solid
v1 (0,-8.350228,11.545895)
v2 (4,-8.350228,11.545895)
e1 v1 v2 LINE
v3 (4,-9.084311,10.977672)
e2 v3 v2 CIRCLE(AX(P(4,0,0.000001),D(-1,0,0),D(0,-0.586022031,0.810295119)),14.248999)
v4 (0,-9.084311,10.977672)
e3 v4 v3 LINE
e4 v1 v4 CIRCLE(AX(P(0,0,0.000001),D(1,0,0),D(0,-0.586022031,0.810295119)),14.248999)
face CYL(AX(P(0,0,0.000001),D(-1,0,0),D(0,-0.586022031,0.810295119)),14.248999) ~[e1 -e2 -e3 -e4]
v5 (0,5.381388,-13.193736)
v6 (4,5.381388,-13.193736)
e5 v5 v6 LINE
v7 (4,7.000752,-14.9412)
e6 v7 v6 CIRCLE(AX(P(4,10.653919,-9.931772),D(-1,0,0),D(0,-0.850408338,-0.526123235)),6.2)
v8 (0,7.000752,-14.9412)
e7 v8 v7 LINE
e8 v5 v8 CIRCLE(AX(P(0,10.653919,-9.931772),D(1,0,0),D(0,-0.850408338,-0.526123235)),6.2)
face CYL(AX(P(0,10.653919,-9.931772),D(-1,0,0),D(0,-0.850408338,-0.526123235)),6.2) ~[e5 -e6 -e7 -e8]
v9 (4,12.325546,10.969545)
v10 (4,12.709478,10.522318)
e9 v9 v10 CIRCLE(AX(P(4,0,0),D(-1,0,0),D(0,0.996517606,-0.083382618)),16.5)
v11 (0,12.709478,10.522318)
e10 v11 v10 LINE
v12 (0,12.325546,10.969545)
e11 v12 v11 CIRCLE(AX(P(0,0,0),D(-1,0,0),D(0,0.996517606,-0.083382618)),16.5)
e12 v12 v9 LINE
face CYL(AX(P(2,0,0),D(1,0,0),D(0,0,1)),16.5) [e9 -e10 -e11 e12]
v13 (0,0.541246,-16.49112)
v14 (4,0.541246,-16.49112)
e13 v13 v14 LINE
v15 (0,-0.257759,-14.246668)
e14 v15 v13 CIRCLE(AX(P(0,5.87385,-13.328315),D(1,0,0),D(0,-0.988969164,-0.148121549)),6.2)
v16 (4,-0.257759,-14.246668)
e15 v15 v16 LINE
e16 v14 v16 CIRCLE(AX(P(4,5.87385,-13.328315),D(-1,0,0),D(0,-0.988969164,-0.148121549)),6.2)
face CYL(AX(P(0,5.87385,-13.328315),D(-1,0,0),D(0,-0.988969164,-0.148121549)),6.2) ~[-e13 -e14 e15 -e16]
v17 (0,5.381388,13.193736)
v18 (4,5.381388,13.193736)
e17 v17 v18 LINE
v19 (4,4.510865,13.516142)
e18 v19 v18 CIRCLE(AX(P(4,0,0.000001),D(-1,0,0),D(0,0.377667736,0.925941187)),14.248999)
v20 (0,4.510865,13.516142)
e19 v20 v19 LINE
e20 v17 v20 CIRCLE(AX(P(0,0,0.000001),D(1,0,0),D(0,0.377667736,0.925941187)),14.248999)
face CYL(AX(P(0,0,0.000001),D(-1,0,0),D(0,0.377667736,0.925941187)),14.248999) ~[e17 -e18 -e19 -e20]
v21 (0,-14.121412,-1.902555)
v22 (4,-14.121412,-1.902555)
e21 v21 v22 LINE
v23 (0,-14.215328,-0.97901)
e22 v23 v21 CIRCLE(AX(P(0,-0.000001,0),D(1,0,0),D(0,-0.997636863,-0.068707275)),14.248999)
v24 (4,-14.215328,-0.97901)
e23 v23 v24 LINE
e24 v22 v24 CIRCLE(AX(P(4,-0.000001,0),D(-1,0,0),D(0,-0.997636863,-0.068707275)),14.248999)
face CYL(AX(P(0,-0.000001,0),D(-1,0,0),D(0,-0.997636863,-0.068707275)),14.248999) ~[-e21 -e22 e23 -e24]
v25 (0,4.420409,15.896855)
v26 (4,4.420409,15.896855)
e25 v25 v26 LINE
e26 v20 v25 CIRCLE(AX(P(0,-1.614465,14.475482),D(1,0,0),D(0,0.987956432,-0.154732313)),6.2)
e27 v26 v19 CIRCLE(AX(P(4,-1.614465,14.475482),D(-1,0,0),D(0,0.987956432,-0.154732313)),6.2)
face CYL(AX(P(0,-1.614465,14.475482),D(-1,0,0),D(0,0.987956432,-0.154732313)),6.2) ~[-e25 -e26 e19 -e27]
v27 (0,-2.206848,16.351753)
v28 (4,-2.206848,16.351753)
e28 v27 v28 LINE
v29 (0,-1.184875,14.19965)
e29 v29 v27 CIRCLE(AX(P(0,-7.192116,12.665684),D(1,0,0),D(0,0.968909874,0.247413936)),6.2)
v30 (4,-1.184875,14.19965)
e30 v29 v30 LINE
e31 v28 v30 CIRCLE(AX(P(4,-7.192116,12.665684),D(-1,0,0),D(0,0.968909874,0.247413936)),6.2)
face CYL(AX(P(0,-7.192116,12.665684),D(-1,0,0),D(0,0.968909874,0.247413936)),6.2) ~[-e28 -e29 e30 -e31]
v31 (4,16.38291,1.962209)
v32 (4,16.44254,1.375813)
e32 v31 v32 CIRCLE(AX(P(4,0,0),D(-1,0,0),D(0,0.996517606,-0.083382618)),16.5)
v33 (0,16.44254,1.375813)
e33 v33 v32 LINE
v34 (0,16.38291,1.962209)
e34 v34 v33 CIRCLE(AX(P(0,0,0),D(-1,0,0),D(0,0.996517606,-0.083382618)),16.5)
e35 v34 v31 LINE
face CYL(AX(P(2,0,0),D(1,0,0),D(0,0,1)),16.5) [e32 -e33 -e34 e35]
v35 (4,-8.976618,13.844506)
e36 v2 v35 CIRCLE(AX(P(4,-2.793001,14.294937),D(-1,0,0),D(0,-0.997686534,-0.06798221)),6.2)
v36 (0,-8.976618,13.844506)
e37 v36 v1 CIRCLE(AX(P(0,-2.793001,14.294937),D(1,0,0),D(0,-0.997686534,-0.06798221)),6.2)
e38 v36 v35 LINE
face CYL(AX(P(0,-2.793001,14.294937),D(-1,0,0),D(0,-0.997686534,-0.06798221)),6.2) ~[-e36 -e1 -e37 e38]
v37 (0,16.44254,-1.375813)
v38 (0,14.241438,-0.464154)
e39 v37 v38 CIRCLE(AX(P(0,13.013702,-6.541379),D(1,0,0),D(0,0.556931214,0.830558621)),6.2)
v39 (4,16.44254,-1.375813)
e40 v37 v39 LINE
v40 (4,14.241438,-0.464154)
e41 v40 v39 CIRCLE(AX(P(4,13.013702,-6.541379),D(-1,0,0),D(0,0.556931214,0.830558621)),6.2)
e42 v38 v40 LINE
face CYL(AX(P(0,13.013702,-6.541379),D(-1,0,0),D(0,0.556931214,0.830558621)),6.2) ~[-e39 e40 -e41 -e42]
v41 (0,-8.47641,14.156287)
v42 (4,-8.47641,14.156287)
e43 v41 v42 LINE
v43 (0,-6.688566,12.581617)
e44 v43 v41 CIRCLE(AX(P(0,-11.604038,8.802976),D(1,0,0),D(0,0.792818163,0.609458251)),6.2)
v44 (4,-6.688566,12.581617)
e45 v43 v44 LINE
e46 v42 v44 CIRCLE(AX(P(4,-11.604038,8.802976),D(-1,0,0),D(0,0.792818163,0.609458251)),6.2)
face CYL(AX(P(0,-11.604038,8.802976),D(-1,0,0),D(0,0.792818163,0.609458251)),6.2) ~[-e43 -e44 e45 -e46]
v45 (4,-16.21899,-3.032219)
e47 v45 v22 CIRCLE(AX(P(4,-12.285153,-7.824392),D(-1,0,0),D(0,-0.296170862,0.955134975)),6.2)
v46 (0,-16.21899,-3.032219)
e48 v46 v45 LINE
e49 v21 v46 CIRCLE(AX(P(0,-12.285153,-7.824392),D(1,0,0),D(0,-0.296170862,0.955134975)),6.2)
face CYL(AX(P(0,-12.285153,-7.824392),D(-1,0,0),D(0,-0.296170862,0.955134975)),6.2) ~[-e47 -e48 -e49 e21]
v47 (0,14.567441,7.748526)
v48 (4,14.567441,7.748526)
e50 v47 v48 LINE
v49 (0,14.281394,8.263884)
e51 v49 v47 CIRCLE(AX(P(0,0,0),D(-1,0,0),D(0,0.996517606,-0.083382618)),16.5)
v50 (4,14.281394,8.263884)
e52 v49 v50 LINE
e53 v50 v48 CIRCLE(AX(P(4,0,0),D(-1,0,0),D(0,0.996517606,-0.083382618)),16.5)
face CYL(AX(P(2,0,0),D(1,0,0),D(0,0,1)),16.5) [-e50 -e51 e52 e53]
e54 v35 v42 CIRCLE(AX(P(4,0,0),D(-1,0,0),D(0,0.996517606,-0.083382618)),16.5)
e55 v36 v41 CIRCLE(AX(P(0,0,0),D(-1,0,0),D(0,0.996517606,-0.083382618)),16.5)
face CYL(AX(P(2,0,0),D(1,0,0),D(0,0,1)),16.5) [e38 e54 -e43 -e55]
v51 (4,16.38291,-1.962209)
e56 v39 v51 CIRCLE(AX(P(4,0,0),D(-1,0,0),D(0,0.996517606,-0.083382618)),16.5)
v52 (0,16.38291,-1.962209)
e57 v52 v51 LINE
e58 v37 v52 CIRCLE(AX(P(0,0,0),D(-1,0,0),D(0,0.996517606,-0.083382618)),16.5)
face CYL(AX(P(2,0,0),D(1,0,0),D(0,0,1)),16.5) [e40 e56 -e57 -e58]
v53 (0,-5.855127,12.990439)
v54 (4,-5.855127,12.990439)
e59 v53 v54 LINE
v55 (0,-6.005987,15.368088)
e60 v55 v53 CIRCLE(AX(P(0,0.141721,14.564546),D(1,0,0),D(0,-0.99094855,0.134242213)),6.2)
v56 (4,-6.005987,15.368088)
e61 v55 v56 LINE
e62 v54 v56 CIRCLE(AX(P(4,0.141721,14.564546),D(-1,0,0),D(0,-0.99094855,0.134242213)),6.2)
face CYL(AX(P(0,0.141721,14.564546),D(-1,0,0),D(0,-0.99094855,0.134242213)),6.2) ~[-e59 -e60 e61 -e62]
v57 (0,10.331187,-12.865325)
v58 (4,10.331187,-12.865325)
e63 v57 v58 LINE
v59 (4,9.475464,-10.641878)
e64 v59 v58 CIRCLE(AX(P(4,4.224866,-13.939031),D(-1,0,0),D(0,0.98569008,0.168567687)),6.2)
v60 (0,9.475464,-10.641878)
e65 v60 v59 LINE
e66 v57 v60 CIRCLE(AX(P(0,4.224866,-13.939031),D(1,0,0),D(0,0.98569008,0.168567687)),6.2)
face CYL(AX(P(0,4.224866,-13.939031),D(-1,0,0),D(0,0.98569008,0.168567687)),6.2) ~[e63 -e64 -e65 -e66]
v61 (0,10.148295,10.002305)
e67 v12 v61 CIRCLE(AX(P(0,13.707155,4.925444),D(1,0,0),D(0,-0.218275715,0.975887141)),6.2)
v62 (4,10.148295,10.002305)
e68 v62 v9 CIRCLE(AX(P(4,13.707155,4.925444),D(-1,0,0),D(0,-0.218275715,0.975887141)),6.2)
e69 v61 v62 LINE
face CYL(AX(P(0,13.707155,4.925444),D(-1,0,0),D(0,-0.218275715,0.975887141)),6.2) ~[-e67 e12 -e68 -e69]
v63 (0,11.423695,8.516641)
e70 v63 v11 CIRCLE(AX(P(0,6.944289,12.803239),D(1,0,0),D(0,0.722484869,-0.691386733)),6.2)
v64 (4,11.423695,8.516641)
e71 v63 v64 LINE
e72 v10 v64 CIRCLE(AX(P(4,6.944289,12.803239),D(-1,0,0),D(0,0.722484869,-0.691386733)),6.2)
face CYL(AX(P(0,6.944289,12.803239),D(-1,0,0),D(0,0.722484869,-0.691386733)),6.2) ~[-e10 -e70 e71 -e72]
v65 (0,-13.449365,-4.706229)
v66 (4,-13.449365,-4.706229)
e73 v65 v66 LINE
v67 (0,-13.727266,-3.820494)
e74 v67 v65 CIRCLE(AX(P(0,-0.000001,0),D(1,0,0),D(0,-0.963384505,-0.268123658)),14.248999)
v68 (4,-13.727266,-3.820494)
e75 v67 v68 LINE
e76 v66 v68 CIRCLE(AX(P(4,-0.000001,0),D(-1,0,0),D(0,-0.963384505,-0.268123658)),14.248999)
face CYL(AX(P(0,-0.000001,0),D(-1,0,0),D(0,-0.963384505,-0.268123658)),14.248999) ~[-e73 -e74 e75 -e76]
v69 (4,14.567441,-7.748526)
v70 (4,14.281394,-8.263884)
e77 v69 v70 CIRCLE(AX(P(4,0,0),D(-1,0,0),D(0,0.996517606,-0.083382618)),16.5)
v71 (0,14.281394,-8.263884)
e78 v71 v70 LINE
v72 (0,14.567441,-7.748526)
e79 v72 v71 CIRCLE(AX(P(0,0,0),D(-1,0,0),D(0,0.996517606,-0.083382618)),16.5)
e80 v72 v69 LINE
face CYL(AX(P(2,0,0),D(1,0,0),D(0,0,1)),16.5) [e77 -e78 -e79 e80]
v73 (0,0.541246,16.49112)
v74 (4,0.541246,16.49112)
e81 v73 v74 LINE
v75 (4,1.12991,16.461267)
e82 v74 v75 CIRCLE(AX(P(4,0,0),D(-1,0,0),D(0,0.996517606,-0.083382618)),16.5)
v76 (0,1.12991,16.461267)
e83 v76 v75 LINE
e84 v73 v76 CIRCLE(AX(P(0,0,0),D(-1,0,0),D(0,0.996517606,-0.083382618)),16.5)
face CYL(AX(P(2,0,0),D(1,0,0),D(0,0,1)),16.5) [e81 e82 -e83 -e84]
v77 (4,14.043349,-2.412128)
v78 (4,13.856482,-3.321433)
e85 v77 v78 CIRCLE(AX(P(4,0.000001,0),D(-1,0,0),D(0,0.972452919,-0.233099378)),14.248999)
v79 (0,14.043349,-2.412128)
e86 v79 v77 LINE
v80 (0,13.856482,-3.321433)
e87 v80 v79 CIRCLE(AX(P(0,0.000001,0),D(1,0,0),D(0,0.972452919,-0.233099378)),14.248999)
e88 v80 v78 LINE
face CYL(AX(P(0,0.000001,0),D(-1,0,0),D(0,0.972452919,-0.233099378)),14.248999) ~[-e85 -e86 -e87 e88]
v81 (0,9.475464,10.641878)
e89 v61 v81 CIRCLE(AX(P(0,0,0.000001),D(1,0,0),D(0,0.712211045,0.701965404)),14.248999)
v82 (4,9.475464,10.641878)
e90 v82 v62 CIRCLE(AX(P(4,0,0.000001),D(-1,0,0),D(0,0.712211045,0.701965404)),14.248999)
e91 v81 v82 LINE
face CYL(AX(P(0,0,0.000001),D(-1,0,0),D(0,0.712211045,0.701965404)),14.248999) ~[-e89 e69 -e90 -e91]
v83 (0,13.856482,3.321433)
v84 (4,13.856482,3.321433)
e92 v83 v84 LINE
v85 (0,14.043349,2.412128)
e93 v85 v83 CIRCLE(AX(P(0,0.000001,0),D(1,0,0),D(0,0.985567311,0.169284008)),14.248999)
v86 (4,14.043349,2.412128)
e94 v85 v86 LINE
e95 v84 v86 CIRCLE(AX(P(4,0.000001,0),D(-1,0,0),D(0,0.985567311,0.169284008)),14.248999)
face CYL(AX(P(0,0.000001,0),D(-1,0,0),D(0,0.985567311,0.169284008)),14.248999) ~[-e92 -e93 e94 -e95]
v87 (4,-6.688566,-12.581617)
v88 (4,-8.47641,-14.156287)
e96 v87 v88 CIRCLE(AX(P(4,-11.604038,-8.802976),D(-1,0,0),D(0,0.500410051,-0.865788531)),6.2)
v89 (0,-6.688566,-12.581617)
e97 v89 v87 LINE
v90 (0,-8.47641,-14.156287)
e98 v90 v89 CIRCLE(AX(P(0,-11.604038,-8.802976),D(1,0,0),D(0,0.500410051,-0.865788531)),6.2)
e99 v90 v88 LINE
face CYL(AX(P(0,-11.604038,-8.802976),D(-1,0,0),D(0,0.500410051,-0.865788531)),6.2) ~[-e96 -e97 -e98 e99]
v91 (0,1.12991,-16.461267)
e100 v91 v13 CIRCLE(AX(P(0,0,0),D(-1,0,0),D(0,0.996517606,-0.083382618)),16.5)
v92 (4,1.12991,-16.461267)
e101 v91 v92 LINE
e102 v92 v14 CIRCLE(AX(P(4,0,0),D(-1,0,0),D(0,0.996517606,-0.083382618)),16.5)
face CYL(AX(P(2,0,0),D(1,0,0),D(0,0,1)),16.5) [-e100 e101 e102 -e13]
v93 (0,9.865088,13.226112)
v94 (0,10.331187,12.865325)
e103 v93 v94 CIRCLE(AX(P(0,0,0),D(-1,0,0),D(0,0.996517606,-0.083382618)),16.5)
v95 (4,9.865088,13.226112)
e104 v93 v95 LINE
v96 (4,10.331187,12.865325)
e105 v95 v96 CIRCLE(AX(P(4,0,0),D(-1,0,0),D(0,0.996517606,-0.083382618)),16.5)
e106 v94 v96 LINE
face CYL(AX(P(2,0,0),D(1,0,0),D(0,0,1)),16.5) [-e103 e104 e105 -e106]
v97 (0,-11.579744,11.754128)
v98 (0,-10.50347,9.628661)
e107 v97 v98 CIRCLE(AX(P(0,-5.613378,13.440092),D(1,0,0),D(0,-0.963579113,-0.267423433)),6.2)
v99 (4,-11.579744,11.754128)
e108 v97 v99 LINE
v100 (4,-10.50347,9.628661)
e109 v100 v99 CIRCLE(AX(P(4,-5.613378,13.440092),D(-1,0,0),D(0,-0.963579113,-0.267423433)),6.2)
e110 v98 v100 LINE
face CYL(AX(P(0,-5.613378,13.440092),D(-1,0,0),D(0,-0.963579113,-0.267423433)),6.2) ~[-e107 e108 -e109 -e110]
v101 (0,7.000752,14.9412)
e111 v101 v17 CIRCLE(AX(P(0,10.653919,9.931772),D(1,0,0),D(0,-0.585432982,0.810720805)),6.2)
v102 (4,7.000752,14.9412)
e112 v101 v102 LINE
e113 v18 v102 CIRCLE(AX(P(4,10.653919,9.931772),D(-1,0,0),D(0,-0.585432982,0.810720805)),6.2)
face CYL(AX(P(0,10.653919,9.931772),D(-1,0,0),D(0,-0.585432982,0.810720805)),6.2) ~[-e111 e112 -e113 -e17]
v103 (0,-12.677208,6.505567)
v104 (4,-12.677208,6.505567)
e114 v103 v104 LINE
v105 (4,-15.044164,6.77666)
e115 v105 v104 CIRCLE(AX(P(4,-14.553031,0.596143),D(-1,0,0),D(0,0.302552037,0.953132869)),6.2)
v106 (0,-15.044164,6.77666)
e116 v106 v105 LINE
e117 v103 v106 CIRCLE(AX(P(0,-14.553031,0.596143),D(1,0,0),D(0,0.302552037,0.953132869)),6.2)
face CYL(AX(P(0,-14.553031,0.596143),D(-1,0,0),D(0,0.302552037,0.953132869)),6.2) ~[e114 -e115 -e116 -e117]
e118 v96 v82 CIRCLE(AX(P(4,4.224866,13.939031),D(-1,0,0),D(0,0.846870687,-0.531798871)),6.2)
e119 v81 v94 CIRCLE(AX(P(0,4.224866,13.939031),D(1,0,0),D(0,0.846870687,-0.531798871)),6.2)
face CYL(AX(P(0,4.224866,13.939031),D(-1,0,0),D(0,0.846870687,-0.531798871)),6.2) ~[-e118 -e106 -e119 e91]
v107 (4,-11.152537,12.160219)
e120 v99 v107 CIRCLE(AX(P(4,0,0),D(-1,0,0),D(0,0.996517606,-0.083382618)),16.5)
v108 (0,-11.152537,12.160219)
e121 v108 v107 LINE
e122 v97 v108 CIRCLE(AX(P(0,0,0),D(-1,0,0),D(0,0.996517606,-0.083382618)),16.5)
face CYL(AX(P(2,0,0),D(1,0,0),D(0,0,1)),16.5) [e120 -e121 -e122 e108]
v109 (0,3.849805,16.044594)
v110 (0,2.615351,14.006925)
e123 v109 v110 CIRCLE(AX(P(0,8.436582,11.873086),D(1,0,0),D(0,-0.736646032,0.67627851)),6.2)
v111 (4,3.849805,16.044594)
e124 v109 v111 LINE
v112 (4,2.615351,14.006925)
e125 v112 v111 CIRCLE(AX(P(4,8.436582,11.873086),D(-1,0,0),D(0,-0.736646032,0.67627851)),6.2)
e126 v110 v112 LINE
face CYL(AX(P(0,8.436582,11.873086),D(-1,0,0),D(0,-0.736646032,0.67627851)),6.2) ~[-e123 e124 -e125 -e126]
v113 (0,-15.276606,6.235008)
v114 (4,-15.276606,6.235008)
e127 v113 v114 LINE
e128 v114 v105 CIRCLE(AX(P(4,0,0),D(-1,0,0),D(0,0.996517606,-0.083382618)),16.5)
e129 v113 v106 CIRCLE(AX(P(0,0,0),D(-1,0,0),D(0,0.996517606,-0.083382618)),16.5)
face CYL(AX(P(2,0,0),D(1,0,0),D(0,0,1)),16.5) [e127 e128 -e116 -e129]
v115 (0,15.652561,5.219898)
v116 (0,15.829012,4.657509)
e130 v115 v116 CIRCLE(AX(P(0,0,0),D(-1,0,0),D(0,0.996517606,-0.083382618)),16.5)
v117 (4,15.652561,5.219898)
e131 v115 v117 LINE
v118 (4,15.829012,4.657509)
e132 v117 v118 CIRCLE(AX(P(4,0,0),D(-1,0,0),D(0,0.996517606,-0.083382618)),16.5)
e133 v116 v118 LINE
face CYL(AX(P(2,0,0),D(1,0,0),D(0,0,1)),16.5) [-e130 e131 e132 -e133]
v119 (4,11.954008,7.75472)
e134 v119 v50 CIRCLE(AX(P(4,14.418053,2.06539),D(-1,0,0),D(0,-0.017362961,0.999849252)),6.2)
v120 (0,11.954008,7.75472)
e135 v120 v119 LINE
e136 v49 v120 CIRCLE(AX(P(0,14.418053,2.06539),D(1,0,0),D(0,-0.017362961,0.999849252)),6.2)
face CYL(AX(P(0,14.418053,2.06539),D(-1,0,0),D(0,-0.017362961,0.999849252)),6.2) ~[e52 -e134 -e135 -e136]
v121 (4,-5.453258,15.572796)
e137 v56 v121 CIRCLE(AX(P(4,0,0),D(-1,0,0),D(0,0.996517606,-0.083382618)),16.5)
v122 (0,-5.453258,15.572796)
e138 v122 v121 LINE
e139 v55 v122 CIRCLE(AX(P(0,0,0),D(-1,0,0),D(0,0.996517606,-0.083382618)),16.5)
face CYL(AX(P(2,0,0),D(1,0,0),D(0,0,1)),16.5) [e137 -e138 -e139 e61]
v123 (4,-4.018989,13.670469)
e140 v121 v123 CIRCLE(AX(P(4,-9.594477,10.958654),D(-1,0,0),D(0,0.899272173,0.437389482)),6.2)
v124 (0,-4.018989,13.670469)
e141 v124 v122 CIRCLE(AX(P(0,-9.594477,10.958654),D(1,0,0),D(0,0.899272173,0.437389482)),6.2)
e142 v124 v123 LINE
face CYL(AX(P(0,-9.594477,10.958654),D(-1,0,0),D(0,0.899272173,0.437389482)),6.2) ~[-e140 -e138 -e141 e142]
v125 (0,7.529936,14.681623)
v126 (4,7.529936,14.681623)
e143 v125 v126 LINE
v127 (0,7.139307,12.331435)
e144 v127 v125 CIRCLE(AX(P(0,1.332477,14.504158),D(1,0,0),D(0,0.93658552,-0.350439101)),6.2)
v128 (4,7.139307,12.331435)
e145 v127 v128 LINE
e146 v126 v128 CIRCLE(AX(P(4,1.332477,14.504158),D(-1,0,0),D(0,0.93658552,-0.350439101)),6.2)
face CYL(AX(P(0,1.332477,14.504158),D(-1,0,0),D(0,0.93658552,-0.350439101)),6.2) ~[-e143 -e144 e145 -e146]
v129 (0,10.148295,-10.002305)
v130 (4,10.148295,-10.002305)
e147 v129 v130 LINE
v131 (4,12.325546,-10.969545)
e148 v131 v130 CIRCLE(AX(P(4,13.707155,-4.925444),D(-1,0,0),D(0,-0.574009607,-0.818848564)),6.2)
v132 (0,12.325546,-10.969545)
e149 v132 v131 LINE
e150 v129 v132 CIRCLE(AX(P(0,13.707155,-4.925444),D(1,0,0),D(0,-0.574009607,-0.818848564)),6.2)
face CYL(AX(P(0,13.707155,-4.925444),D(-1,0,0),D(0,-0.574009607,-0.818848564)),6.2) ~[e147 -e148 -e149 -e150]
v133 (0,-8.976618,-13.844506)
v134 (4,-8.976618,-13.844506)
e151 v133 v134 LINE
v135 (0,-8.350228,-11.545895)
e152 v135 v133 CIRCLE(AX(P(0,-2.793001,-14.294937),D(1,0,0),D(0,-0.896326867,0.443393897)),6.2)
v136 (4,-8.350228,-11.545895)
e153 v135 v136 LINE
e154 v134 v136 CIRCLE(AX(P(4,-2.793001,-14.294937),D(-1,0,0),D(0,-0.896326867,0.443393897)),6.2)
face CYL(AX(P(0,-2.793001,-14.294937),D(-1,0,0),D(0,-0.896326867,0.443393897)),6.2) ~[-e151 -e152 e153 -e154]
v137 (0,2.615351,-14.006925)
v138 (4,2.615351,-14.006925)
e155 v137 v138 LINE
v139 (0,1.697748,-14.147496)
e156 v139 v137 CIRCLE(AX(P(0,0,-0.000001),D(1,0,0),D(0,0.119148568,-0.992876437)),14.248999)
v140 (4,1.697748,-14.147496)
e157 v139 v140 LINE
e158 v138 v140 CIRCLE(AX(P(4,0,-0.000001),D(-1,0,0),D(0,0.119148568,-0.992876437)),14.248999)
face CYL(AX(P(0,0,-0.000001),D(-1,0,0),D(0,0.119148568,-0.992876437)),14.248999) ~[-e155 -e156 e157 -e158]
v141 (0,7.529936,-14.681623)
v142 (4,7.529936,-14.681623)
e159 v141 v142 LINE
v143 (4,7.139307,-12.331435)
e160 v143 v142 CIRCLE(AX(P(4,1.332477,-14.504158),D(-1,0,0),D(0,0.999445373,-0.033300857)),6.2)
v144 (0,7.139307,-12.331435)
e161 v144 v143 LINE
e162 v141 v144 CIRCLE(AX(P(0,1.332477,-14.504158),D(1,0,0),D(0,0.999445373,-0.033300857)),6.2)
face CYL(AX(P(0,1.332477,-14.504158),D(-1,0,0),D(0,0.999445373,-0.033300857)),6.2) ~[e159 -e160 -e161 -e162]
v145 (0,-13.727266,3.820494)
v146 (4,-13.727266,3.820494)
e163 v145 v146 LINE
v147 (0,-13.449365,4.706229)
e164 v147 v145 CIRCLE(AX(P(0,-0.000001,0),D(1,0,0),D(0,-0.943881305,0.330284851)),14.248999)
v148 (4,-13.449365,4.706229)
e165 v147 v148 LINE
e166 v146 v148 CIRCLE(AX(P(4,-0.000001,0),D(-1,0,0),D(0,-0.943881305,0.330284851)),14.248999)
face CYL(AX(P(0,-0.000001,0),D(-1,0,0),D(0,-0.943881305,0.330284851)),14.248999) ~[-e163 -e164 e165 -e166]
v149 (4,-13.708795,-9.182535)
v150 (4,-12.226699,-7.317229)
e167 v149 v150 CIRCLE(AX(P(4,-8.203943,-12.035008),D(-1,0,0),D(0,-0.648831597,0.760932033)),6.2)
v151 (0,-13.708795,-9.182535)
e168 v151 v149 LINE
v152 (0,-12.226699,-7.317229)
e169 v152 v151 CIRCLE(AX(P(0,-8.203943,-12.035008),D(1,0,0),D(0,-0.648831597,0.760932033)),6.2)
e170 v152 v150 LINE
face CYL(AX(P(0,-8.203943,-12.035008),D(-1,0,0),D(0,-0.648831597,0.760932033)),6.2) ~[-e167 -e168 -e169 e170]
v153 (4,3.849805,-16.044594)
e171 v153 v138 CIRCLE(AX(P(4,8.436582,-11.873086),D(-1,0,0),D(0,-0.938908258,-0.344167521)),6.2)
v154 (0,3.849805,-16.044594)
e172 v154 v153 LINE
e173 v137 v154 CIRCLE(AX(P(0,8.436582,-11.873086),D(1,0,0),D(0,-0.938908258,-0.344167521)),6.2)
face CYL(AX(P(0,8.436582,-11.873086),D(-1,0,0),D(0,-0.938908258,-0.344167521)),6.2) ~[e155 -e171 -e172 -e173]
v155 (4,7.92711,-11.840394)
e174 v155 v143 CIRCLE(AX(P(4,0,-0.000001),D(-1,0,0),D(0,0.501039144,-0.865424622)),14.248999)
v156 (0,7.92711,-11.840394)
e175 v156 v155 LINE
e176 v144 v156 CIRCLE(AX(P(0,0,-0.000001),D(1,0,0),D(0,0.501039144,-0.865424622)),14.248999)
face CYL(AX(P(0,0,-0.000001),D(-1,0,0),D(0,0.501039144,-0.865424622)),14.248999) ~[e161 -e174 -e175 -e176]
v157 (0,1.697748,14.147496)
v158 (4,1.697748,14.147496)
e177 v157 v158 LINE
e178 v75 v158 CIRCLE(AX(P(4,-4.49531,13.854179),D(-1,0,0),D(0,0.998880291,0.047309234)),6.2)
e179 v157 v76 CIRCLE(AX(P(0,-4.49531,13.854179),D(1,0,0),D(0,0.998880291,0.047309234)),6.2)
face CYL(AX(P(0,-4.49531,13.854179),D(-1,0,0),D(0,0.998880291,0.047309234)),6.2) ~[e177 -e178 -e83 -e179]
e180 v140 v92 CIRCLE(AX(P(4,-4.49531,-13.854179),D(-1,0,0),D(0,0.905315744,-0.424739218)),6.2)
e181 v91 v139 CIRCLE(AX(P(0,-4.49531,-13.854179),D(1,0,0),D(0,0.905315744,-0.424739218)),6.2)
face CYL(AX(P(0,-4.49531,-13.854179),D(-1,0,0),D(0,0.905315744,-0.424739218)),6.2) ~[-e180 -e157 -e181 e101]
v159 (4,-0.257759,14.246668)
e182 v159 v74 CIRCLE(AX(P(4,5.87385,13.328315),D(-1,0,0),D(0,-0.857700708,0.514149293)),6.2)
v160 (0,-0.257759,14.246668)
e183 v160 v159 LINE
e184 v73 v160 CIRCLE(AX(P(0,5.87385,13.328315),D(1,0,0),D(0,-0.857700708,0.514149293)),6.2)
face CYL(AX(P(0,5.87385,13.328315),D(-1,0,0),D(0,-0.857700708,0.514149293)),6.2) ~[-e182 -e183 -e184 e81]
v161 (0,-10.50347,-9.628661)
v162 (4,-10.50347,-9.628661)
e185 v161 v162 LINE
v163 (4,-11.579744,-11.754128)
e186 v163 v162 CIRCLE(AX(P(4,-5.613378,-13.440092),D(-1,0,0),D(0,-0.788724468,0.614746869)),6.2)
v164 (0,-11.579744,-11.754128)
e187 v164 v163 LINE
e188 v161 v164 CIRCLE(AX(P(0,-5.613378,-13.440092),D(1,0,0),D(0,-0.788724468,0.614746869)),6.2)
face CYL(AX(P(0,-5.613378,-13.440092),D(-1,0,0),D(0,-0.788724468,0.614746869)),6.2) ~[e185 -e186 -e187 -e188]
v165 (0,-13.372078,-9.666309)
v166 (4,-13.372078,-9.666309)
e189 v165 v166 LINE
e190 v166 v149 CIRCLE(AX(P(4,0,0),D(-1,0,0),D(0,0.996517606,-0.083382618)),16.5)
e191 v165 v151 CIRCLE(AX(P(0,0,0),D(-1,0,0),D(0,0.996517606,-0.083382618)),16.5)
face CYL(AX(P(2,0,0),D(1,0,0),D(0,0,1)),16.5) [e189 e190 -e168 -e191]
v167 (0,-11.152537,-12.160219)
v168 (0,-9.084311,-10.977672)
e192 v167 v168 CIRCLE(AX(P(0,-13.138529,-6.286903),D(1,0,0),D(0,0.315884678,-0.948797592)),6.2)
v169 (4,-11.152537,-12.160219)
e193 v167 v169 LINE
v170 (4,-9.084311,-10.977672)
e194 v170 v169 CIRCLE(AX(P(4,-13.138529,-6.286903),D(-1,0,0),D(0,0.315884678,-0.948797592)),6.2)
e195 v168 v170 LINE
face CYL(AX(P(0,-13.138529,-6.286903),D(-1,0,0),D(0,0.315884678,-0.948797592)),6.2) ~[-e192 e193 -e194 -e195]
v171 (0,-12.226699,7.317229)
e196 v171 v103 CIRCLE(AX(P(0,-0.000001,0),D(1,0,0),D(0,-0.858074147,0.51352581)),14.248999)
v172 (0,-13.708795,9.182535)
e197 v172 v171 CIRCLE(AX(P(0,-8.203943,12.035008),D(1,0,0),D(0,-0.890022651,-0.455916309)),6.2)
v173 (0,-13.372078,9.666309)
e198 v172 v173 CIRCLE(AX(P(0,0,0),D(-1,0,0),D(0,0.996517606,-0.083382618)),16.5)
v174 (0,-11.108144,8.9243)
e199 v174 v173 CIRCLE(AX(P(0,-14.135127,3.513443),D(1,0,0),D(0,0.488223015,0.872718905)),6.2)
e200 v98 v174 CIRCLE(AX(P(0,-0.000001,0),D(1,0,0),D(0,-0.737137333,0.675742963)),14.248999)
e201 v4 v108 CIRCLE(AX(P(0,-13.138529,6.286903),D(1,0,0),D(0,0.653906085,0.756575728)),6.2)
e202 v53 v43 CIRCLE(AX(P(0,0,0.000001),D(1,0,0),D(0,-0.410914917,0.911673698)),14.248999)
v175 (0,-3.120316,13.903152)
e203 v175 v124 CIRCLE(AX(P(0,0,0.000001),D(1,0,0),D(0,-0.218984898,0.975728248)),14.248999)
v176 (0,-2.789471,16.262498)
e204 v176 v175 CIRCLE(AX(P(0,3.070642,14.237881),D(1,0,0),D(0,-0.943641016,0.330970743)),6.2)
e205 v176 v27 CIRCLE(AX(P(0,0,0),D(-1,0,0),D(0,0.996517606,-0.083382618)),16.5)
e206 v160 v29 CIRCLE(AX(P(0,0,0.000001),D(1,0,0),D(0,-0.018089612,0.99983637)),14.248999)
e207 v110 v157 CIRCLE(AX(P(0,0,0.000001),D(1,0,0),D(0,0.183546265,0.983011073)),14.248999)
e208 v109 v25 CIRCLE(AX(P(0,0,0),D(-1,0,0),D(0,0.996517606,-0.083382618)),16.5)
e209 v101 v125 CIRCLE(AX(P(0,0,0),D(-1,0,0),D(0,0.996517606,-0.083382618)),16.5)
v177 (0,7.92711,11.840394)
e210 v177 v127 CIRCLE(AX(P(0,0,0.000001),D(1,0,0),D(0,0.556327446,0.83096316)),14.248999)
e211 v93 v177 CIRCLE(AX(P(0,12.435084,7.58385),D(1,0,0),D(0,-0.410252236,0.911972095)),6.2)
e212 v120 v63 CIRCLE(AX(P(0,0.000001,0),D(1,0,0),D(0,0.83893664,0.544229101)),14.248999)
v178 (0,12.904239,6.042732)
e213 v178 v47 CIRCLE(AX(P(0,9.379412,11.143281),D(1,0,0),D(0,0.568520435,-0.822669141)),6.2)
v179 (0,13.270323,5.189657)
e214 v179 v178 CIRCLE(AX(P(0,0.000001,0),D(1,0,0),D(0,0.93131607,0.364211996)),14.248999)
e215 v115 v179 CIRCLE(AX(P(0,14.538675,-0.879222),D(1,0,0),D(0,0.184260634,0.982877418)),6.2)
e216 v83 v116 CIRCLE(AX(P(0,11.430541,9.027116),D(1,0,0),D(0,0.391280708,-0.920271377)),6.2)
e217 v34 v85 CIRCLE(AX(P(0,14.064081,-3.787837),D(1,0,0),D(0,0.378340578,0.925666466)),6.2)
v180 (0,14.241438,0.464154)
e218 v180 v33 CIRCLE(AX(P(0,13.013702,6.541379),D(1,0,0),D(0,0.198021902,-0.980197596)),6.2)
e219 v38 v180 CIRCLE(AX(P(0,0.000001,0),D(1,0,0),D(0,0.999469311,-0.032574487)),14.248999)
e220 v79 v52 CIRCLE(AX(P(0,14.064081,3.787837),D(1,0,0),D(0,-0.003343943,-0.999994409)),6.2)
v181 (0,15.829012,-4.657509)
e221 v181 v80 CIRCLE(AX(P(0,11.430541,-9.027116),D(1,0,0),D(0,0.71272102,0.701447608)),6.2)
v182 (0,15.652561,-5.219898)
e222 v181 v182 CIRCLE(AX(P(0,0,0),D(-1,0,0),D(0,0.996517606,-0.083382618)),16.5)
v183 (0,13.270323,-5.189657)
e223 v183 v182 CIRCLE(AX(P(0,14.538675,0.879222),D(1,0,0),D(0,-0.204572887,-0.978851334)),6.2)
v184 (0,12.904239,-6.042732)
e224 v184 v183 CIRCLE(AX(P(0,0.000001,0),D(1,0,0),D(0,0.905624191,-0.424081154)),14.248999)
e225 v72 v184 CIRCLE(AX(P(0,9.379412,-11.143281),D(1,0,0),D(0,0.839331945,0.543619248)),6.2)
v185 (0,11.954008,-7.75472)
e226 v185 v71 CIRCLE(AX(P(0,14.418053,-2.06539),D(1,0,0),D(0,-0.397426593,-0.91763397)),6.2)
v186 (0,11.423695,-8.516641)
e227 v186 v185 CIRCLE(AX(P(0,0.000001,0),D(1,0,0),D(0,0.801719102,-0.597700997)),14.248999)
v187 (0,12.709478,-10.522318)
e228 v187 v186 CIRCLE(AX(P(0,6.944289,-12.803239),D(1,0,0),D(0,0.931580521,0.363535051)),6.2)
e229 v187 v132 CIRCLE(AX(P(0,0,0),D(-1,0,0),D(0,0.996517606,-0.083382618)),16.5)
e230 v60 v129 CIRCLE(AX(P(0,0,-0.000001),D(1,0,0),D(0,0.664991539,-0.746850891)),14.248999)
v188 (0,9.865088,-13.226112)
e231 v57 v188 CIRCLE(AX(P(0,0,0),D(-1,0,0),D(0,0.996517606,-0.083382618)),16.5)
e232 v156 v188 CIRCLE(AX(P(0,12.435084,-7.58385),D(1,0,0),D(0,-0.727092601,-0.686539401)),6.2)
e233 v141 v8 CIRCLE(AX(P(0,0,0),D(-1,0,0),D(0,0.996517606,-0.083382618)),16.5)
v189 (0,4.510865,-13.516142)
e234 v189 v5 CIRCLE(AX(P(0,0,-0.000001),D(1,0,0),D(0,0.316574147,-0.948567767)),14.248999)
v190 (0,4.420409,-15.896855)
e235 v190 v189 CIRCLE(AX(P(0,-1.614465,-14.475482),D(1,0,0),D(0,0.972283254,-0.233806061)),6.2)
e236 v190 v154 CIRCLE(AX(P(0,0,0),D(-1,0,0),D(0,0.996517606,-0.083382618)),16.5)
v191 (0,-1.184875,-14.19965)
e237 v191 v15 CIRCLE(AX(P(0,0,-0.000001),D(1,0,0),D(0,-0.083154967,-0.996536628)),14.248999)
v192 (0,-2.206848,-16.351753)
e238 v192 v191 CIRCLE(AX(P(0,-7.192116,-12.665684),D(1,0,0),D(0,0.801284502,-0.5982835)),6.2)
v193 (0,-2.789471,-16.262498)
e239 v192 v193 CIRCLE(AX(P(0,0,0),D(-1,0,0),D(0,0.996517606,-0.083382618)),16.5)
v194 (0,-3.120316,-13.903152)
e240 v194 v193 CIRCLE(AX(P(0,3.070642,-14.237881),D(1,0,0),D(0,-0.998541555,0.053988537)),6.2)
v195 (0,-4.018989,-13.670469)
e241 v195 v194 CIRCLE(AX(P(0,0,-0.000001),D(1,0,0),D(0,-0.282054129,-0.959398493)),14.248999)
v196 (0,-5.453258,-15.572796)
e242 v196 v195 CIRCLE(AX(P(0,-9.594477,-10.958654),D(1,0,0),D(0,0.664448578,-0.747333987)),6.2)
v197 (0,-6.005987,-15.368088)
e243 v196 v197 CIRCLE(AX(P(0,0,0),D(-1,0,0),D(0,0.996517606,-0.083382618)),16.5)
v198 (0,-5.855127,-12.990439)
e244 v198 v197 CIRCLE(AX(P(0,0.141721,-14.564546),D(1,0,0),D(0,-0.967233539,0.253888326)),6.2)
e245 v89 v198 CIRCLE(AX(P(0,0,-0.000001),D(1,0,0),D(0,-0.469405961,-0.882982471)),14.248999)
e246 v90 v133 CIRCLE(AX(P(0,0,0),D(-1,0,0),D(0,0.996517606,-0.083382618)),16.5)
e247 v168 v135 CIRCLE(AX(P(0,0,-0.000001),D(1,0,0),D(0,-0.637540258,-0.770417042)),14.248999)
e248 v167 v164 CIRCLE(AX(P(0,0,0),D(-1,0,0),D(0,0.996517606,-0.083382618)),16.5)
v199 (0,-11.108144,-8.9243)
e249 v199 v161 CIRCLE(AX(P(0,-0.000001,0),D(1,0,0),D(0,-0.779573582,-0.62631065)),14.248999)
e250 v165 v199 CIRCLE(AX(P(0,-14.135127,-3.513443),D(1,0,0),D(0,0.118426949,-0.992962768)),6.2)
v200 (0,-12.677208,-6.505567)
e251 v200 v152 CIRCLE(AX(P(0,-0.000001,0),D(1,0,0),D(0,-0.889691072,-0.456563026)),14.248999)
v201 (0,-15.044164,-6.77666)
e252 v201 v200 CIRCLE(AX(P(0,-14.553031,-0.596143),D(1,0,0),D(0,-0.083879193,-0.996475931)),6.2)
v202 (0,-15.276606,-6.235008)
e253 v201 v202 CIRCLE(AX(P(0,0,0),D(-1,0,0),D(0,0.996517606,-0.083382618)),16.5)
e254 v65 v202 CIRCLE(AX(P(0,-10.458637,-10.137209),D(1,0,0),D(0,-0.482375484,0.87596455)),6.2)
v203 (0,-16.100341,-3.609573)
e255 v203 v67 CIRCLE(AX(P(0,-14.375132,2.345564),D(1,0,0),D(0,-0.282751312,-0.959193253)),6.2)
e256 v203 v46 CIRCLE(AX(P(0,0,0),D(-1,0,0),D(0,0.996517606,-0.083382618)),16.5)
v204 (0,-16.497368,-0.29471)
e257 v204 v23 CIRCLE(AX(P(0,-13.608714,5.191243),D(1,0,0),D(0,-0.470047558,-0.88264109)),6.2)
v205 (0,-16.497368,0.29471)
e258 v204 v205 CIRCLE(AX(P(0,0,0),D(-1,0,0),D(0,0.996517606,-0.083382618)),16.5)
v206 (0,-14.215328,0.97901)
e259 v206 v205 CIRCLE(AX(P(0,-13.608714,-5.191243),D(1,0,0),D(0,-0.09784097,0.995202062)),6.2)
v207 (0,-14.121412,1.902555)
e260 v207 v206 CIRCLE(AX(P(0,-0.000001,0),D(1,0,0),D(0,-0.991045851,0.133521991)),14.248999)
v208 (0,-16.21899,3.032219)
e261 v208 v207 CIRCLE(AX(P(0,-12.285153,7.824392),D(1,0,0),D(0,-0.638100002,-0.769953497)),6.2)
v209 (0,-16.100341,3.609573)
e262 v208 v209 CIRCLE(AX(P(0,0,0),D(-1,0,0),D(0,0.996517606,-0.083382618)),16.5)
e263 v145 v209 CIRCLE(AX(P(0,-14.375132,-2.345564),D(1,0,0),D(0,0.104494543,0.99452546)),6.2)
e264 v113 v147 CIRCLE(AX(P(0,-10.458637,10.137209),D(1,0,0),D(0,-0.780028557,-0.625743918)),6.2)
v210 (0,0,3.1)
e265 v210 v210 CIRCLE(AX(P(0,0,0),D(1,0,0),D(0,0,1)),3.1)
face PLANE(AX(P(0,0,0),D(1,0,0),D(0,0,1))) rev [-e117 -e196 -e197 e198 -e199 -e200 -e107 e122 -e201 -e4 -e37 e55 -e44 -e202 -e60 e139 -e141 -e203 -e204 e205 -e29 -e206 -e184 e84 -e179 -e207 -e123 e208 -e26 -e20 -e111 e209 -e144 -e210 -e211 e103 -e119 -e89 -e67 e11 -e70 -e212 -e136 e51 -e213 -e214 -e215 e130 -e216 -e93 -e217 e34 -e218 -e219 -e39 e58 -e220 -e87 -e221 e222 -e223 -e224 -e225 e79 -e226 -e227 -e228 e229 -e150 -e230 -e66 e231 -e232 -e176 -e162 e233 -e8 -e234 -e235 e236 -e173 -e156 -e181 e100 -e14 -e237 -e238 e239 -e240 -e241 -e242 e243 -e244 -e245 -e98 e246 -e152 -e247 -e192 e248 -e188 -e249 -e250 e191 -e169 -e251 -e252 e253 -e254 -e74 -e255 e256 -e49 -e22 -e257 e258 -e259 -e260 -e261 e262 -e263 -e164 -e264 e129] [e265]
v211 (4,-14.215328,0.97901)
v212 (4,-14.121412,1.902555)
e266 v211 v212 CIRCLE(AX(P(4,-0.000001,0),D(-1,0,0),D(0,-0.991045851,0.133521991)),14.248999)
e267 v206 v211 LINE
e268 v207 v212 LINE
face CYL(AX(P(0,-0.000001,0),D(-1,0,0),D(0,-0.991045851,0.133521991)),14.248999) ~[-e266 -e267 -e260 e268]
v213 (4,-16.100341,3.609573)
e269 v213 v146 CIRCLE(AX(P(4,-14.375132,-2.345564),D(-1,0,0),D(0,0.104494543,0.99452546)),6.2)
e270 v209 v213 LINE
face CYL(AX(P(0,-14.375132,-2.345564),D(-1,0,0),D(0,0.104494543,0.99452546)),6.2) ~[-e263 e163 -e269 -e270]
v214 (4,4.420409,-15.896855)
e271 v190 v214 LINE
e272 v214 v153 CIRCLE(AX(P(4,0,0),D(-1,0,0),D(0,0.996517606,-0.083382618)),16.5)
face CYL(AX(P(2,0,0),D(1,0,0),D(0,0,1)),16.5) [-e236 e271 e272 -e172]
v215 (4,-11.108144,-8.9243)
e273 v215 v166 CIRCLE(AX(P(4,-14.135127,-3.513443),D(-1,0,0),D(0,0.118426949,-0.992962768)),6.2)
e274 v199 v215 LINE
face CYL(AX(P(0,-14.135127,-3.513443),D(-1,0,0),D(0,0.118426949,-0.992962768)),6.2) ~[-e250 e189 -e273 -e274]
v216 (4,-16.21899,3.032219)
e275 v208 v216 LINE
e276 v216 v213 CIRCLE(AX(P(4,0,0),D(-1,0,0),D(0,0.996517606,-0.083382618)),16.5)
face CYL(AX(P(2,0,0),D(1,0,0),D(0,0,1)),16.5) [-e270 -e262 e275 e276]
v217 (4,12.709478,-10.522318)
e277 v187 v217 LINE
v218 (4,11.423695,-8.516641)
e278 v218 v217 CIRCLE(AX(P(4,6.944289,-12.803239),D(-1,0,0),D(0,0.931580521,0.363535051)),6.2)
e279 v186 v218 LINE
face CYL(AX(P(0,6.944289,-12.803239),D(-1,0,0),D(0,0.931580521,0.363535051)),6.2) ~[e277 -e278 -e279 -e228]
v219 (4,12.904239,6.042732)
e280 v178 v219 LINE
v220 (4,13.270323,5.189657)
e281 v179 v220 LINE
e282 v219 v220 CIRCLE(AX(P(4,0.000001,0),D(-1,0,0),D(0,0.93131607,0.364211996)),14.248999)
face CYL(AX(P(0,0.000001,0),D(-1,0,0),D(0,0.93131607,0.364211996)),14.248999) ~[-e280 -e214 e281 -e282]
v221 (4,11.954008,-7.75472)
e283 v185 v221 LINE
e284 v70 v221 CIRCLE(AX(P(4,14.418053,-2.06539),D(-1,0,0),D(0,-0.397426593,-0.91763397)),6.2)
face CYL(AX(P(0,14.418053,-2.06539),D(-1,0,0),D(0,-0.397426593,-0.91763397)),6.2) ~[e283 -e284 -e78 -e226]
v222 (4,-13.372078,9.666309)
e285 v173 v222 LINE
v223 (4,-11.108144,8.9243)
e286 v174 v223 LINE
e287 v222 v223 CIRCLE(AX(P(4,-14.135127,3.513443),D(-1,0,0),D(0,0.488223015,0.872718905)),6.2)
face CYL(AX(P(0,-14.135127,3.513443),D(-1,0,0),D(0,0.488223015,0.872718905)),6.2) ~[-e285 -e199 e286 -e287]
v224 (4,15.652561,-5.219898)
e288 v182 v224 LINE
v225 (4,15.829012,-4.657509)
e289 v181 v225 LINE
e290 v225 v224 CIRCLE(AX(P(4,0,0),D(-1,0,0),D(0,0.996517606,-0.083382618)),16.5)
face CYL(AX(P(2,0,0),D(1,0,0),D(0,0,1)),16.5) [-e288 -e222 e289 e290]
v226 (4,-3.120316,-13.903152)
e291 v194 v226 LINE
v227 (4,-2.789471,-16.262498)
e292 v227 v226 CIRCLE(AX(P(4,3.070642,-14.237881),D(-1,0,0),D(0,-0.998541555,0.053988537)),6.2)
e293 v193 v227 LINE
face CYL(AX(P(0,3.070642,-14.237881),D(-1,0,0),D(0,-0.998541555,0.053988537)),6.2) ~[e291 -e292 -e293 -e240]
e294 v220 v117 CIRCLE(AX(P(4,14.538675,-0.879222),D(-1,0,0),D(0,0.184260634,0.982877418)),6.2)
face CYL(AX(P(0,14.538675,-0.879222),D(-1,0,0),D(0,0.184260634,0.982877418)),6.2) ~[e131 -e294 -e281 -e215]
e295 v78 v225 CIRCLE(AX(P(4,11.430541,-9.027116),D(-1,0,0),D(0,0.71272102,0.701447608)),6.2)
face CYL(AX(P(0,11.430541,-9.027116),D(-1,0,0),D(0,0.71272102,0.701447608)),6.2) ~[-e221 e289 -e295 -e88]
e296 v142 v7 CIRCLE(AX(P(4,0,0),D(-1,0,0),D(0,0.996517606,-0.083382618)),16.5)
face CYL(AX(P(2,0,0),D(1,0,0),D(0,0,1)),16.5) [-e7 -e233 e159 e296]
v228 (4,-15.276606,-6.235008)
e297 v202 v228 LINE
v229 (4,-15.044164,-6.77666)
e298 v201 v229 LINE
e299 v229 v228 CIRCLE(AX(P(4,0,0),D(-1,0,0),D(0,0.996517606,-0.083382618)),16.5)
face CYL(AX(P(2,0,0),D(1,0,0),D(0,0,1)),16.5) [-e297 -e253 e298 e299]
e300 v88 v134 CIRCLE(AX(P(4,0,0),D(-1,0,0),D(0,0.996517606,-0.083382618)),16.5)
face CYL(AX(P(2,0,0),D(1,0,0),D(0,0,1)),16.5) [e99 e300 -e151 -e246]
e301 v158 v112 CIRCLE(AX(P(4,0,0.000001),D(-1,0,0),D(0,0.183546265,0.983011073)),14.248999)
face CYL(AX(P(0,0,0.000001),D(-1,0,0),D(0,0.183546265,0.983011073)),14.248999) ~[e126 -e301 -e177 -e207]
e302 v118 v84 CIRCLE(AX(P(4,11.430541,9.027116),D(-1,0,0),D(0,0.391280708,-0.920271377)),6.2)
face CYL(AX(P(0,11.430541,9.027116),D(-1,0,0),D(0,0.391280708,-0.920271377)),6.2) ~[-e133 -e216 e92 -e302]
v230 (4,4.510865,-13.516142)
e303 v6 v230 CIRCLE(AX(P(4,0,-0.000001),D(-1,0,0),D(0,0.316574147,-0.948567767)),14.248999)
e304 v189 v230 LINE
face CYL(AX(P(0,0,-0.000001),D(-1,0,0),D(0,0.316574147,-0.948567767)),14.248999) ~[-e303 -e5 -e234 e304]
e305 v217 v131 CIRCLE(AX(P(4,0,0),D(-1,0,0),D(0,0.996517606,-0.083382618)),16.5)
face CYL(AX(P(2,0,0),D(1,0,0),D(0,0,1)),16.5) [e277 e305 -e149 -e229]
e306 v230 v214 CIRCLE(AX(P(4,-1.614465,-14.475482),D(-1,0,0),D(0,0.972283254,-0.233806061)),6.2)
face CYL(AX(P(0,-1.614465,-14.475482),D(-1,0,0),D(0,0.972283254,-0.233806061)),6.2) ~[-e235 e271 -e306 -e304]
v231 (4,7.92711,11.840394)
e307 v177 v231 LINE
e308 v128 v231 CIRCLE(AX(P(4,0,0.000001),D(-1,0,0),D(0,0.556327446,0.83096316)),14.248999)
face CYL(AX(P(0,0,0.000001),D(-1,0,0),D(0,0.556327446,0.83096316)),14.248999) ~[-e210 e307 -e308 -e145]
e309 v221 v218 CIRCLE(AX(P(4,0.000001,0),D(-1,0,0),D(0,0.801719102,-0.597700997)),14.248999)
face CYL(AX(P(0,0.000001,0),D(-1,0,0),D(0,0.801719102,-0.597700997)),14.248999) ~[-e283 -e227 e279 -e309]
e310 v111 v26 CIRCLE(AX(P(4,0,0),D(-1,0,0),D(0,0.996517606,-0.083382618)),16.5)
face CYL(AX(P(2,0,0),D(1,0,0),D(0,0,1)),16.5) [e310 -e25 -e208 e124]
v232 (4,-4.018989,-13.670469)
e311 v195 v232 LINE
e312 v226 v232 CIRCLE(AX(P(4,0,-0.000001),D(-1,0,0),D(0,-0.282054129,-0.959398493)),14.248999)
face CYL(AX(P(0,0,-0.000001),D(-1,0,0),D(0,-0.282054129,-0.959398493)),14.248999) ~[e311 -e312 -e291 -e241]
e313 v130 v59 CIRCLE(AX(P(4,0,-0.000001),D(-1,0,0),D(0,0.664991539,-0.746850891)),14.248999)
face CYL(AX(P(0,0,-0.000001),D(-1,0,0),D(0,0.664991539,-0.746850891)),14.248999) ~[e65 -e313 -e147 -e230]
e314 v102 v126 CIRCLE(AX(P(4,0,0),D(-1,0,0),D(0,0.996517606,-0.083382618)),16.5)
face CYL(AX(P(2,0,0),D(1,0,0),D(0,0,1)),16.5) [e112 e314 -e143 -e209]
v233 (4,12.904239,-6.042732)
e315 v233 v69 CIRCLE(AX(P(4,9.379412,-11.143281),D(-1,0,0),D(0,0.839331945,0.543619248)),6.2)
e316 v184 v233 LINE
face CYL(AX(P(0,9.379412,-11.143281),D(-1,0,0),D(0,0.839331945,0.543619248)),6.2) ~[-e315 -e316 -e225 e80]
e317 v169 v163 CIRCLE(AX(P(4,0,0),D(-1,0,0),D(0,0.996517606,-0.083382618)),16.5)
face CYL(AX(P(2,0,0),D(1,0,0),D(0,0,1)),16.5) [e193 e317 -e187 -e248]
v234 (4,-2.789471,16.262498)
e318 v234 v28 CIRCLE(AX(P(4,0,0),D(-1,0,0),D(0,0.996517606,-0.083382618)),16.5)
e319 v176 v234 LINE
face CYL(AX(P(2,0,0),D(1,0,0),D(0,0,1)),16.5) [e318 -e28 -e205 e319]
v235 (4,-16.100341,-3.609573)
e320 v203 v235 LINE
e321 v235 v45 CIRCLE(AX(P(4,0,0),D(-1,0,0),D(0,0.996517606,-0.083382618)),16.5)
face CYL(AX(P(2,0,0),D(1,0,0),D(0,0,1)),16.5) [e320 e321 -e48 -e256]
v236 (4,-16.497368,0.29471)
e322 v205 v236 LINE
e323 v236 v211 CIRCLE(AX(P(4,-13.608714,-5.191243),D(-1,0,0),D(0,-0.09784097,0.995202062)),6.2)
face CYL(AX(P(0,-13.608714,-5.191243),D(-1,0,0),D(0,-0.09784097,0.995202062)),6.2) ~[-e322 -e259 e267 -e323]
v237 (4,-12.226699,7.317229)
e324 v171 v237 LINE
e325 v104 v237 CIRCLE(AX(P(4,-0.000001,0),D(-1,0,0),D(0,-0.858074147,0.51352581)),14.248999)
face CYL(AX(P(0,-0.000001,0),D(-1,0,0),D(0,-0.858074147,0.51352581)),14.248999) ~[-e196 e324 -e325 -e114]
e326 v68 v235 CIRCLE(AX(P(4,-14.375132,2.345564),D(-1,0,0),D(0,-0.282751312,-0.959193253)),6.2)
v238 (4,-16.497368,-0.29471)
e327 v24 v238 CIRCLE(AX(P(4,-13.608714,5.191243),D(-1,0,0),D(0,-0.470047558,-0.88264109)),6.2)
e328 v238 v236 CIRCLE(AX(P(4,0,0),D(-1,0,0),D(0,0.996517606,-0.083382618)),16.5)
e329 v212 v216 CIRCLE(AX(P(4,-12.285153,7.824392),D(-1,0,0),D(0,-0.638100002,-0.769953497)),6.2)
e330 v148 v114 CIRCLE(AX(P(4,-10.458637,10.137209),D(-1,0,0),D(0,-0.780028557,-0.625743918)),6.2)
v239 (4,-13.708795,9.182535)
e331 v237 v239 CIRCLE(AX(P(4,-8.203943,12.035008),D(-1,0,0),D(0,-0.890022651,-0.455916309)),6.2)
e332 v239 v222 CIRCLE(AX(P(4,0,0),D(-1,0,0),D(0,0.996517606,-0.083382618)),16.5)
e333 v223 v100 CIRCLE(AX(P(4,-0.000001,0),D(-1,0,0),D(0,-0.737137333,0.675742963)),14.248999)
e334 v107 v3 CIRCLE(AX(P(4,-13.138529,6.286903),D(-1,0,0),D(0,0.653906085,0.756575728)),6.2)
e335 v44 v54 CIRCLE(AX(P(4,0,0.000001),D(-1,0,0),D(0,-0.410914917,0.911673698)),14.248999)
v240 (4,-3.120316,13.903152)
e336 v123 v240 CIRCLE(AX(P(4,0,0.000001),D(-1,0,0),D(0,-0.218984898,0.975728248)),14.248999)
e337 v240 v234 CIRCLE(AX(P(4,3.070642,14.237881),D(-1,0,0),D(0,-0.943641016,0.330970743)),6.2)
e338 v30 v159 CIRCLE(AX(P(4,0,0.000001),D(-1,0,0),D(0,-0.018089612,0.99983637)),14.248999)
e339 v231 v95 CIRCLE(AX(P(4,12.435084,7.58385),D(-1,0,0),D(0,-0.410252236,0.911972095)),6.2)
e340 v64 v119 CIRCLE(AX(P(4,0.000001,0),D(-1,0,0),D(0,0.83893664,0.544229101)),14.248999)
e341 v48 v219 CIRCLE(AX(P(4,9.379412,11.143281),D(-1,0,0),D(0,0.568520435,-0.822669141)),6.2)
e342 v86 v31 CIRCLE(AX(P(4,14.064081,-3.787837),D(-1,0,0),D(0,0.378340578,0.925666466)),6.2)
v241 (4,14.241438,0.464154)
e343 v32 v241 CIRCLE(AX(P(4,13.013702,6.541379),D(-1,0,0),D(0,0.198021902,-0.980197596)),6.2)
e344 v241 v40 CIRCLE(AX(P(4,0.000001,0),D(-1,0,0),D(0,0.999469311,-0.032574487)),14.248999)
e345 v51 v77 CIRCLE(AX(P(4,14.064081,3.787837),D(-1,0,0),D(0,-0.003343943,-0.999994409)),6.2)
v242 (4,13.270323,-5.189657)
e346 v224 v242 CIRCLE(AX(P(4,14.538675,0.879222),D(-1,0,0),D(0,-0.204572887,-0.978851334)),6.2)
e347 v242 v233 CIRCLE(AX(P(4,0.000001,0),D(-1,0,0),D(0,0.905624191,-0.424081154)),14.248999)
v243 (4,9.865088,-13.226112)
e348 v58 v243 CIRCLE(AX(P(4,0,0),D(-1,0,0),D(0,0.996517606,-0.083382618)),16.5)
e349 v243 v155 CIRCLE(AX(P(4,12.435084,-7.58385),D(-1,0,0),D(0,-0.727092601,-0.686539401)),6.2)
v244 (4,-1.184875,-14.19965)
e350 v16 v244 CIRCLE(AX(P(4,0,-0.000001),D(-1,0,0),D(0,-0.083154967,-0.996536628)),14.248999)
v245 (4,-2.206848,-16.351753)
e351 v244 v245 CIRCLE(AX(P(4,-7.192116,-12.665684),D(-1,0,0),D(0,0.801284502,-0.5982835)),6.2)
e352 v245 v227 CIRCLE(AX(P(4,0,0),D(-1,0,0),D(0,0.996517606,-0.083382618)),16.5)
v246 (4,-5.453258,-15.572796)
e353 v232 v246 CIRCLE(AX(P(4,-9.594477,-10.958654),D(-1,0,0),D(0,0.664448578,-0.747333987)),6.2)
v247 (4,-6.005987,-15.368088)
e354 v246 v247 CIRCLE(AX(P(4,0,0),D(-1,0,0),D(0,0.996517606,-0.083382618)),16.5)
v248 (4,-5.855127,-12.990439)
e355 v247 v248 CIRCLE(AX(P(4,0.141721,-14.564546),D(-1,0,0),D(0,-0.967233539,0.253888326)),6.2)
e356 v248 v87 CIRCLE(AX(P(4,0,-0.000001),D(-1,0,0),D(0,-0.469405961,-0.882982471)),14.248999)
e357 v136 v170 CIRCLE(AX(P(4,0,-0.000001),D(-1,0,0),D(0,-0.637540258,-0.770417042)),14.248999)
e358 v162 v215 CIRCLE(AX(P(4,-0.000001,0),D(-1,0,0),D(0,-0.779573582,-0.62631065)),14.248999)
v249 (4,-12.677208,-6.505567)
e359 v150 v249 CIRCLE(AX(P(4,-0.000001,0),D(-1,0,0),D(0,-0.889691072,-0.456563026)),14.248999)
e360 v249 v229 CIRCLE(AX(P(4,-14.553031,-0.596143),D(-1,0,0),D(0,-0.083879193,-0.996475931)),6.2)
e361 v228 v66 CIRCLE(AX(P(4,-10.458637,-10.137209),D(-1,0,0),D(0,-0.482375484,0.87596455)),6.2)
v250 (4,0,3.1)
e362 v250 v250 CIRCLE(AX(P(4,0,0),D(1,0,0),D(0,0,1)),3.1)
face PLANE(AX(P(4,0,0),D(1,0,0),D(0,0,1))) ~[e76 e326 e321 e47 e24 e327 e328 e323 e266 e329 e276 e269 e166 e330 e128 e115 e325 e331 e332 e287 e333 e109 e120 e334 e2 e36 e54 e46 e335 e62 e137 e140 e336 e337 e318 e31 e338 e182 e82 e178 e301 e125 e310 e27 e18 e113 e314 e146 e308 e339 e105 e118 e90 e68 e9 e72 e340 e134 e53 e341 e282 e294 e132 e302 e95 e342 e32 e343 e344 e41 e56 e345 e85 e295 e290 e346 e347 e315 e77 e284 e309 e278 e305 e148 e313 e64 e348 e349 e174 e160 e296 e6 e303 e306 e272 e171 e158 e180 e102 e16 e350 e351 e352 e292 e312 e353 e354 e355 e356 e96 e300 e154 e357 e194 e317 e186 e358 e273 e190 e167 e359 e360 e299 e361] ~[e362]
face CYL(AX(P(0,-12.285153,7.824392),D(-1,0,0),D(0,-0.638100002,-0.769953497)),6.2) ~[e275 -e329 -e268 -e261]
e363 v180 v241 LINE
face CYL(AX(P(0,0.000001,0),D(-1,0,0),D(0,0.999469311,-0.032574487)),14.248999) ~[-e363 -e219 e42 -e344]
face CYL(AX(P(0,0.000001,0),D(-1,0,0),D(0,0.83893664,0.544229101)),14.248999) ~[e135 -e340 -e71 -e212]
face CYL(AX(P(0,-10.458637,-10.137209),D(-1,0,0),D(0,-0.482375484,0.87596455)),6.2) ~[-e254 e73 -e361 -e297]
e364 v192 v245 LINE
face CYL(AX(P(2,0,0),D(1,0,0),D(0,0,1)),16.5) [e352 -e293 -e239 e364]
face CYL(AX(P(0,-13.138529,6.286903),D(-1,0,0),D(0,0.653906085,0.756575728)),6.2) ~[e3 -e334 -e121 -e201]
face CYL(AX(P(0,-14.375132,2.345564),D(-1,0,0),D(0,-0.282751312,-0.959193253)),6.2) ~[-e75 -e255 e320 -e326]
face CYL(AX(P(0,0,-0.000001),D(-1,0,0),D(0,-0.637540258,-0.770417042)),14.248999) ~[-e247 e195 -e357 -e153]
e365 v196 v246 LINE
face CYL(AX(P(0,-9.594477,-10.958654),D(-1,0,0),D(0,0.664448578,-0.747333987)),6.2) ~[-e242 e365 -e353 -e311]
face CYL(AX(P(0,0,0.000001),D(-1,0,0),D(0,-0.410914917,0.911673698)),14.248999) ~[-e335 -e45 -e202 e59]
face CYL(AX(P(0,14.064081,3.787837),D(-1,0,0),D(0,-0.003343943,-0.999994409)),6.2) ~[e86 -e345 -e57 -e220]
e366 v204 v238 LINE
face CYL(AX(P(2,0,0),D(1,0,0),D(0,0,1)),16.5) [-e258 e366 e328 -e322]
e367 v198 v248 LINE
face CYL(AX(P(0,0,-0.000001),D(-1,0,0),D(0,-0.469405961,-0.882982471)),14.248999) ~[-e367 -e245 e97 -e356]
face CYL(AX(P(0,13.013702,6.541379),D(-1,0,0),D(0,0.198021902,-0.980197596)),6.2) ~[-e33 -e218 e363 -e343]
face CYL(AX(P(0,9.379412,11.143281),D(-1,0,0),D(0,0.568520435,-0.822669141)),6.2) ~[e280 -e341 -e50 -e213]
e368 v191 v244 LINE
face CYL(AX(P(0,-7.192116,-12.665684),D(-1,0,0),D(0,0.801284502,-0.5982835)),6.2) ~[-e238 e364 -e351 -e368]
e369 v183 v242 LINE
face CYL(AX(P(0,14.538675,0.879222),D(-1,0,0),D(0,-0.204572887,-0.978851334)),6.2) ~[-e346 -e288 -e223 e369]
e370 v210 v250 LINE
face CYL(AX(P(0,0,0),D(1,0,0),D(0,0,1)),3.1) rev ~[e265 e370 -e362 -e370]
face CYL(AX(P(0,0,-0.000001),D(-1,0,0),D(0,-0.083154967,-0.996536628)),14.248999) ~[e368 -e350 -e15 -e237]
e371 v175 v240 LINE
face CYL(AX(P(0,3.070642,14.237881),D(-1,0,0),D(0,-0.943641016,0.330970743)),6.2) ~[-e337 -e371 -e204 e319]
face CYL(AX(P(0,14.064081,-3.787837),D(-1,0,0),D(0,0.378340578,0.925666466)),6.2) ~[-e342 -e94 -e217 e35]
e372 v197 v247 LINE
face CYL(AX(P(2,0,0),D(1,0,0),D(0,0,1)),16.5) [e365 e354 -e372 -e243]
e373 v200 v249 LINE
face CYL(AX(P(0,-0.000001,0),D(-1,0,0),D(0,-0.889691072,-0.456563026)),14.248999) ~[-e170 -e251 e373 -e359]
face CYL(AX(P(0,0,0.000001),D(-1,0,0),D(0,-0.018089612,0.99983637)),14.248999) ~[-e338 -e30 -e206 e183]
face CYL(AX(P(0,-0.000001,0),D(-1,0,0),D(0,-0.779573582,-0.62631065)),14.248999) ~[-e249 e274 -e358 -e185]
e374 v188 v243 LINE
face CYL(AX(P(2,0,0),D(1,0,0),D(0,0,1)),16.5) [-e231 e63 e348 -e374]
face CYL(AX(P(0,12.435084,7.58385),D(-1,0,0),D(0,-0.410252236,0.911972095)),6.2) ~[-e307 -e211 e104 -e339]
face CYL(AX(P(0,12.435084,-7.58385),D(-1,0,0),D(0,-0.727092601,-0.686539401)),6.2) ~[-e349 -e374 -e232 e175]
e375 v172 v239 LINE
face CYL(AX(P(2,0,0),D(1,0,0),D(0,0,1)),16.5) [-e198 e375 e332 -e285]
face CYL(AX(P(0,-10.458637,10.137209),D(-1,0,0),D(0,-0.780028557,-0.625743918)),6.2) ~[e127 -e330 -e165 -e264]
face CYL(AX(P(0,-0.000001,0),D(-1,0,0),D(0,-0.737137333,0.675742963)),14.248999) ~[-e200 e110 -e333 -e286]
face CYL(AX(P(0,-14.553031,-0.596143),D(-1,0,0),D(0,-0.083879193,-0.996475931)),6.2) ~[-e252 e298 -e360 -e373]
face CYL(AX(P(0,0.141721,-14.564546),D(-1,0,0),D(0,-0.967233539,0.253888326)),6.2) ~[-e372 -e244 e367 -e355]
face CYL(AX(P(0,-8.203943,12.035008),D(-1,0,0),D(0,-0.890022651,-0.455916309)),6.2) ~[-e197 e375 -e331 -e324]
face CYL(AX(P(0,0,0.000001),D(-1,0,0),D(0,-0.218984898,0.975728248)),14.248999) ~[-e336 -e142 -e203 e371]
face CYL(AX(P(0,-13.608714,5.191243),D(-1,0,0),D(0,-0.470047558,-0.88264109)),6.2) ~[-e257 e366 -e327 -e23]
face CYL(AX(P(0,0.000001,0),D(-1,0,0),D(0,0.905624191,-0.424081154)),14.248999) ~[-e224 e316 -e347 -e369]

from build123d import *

# Parameters (mm, degrees)
BASPROSKE_W     = 4
BASPROSKE_H     = 16.5
TOOTHCUT_DEPTH  = 24.674881204
TEETHCUTS_COUNT = 31
TEETHCUTS_ANGLE = 348.387096774
BORSKE_R        = 3.1
BORE_DEPTH      = 50.0000508


with BuildPart() as part:
    # BasProSke → Base-Revolve (revolve)
    with BuildSketch(Plane(origin=(0, 0, 0), x_dir=(1, 0, 0), z_dir=(0, 1, 0)), mode=Mode.PRIVATE) as base_revolve_sk:
        with Locations((2, 8.25)):
            Rectangle(BASPROSKE_W, BASPROSKE_H)
    revolve(base_revolve_sk.sketch.rotate(Axis((-10, 0, 0), (1, 0, 0)), 180), axis=Axis((-10, 0, 0), (1, 0, 0)))

    # TooCutSke → ToothCut (cut, through all)
    with BuildSketch(Plane(origin=(0, 0, 0), x_dir=(0, 0, -1), z_dir=(1, 0, 0))):
        with BuildLine():
            ThreePointArc((0.464153838, 14.241438207), (0, 14.249), (-0.464153838, 14.241438207))
            ThreePointArc((-0.464153838, 14.241438207), (-0.818831014, 15.399587018), (-1.391915479, 16.466675938))
            ThreePointArc((-1.391915479, 16.466675938), (0, 16.5254), (1.391915479, 16.466675938))
            ThreePointArc((1.391915479, 16.466675938), (0.818831014, 15.399587018), (0.464153838, 14.241438207))
        make_face()
    toothcut = extrude(amount=TOOTHCUT_DEPTH, mode=Mode.SUBTRACT)

    # TeethCuts: ToothCut ×31 about axis
    teethcuts_axis = Axis((-10, 0, 0), (1, 0, 0))
    for i in range(1, TEETHCUTS_COUNT):
        add(toothcut.rotate(teethcuts_axis, i * TEETHCUTS_ANGLE / (TEETHCUTS_COUNT - 1)), mode=Mode.SUBTRACT)

    # BorSke → Bore (cut, symmetric)
    with BuildSketch(Plane(origin=(0, 0, 0), x_dir=(0, 0, -1), z_dir=(1, 0, 0))):
        with Locations(Location((0, 0, 0), (0, 0, 180))):
            Circle(BORSKE_R)
    extrude(amount=BORE_DEPTH, both=True, mode=Mode.SUBTRACT)


solid = part.part
